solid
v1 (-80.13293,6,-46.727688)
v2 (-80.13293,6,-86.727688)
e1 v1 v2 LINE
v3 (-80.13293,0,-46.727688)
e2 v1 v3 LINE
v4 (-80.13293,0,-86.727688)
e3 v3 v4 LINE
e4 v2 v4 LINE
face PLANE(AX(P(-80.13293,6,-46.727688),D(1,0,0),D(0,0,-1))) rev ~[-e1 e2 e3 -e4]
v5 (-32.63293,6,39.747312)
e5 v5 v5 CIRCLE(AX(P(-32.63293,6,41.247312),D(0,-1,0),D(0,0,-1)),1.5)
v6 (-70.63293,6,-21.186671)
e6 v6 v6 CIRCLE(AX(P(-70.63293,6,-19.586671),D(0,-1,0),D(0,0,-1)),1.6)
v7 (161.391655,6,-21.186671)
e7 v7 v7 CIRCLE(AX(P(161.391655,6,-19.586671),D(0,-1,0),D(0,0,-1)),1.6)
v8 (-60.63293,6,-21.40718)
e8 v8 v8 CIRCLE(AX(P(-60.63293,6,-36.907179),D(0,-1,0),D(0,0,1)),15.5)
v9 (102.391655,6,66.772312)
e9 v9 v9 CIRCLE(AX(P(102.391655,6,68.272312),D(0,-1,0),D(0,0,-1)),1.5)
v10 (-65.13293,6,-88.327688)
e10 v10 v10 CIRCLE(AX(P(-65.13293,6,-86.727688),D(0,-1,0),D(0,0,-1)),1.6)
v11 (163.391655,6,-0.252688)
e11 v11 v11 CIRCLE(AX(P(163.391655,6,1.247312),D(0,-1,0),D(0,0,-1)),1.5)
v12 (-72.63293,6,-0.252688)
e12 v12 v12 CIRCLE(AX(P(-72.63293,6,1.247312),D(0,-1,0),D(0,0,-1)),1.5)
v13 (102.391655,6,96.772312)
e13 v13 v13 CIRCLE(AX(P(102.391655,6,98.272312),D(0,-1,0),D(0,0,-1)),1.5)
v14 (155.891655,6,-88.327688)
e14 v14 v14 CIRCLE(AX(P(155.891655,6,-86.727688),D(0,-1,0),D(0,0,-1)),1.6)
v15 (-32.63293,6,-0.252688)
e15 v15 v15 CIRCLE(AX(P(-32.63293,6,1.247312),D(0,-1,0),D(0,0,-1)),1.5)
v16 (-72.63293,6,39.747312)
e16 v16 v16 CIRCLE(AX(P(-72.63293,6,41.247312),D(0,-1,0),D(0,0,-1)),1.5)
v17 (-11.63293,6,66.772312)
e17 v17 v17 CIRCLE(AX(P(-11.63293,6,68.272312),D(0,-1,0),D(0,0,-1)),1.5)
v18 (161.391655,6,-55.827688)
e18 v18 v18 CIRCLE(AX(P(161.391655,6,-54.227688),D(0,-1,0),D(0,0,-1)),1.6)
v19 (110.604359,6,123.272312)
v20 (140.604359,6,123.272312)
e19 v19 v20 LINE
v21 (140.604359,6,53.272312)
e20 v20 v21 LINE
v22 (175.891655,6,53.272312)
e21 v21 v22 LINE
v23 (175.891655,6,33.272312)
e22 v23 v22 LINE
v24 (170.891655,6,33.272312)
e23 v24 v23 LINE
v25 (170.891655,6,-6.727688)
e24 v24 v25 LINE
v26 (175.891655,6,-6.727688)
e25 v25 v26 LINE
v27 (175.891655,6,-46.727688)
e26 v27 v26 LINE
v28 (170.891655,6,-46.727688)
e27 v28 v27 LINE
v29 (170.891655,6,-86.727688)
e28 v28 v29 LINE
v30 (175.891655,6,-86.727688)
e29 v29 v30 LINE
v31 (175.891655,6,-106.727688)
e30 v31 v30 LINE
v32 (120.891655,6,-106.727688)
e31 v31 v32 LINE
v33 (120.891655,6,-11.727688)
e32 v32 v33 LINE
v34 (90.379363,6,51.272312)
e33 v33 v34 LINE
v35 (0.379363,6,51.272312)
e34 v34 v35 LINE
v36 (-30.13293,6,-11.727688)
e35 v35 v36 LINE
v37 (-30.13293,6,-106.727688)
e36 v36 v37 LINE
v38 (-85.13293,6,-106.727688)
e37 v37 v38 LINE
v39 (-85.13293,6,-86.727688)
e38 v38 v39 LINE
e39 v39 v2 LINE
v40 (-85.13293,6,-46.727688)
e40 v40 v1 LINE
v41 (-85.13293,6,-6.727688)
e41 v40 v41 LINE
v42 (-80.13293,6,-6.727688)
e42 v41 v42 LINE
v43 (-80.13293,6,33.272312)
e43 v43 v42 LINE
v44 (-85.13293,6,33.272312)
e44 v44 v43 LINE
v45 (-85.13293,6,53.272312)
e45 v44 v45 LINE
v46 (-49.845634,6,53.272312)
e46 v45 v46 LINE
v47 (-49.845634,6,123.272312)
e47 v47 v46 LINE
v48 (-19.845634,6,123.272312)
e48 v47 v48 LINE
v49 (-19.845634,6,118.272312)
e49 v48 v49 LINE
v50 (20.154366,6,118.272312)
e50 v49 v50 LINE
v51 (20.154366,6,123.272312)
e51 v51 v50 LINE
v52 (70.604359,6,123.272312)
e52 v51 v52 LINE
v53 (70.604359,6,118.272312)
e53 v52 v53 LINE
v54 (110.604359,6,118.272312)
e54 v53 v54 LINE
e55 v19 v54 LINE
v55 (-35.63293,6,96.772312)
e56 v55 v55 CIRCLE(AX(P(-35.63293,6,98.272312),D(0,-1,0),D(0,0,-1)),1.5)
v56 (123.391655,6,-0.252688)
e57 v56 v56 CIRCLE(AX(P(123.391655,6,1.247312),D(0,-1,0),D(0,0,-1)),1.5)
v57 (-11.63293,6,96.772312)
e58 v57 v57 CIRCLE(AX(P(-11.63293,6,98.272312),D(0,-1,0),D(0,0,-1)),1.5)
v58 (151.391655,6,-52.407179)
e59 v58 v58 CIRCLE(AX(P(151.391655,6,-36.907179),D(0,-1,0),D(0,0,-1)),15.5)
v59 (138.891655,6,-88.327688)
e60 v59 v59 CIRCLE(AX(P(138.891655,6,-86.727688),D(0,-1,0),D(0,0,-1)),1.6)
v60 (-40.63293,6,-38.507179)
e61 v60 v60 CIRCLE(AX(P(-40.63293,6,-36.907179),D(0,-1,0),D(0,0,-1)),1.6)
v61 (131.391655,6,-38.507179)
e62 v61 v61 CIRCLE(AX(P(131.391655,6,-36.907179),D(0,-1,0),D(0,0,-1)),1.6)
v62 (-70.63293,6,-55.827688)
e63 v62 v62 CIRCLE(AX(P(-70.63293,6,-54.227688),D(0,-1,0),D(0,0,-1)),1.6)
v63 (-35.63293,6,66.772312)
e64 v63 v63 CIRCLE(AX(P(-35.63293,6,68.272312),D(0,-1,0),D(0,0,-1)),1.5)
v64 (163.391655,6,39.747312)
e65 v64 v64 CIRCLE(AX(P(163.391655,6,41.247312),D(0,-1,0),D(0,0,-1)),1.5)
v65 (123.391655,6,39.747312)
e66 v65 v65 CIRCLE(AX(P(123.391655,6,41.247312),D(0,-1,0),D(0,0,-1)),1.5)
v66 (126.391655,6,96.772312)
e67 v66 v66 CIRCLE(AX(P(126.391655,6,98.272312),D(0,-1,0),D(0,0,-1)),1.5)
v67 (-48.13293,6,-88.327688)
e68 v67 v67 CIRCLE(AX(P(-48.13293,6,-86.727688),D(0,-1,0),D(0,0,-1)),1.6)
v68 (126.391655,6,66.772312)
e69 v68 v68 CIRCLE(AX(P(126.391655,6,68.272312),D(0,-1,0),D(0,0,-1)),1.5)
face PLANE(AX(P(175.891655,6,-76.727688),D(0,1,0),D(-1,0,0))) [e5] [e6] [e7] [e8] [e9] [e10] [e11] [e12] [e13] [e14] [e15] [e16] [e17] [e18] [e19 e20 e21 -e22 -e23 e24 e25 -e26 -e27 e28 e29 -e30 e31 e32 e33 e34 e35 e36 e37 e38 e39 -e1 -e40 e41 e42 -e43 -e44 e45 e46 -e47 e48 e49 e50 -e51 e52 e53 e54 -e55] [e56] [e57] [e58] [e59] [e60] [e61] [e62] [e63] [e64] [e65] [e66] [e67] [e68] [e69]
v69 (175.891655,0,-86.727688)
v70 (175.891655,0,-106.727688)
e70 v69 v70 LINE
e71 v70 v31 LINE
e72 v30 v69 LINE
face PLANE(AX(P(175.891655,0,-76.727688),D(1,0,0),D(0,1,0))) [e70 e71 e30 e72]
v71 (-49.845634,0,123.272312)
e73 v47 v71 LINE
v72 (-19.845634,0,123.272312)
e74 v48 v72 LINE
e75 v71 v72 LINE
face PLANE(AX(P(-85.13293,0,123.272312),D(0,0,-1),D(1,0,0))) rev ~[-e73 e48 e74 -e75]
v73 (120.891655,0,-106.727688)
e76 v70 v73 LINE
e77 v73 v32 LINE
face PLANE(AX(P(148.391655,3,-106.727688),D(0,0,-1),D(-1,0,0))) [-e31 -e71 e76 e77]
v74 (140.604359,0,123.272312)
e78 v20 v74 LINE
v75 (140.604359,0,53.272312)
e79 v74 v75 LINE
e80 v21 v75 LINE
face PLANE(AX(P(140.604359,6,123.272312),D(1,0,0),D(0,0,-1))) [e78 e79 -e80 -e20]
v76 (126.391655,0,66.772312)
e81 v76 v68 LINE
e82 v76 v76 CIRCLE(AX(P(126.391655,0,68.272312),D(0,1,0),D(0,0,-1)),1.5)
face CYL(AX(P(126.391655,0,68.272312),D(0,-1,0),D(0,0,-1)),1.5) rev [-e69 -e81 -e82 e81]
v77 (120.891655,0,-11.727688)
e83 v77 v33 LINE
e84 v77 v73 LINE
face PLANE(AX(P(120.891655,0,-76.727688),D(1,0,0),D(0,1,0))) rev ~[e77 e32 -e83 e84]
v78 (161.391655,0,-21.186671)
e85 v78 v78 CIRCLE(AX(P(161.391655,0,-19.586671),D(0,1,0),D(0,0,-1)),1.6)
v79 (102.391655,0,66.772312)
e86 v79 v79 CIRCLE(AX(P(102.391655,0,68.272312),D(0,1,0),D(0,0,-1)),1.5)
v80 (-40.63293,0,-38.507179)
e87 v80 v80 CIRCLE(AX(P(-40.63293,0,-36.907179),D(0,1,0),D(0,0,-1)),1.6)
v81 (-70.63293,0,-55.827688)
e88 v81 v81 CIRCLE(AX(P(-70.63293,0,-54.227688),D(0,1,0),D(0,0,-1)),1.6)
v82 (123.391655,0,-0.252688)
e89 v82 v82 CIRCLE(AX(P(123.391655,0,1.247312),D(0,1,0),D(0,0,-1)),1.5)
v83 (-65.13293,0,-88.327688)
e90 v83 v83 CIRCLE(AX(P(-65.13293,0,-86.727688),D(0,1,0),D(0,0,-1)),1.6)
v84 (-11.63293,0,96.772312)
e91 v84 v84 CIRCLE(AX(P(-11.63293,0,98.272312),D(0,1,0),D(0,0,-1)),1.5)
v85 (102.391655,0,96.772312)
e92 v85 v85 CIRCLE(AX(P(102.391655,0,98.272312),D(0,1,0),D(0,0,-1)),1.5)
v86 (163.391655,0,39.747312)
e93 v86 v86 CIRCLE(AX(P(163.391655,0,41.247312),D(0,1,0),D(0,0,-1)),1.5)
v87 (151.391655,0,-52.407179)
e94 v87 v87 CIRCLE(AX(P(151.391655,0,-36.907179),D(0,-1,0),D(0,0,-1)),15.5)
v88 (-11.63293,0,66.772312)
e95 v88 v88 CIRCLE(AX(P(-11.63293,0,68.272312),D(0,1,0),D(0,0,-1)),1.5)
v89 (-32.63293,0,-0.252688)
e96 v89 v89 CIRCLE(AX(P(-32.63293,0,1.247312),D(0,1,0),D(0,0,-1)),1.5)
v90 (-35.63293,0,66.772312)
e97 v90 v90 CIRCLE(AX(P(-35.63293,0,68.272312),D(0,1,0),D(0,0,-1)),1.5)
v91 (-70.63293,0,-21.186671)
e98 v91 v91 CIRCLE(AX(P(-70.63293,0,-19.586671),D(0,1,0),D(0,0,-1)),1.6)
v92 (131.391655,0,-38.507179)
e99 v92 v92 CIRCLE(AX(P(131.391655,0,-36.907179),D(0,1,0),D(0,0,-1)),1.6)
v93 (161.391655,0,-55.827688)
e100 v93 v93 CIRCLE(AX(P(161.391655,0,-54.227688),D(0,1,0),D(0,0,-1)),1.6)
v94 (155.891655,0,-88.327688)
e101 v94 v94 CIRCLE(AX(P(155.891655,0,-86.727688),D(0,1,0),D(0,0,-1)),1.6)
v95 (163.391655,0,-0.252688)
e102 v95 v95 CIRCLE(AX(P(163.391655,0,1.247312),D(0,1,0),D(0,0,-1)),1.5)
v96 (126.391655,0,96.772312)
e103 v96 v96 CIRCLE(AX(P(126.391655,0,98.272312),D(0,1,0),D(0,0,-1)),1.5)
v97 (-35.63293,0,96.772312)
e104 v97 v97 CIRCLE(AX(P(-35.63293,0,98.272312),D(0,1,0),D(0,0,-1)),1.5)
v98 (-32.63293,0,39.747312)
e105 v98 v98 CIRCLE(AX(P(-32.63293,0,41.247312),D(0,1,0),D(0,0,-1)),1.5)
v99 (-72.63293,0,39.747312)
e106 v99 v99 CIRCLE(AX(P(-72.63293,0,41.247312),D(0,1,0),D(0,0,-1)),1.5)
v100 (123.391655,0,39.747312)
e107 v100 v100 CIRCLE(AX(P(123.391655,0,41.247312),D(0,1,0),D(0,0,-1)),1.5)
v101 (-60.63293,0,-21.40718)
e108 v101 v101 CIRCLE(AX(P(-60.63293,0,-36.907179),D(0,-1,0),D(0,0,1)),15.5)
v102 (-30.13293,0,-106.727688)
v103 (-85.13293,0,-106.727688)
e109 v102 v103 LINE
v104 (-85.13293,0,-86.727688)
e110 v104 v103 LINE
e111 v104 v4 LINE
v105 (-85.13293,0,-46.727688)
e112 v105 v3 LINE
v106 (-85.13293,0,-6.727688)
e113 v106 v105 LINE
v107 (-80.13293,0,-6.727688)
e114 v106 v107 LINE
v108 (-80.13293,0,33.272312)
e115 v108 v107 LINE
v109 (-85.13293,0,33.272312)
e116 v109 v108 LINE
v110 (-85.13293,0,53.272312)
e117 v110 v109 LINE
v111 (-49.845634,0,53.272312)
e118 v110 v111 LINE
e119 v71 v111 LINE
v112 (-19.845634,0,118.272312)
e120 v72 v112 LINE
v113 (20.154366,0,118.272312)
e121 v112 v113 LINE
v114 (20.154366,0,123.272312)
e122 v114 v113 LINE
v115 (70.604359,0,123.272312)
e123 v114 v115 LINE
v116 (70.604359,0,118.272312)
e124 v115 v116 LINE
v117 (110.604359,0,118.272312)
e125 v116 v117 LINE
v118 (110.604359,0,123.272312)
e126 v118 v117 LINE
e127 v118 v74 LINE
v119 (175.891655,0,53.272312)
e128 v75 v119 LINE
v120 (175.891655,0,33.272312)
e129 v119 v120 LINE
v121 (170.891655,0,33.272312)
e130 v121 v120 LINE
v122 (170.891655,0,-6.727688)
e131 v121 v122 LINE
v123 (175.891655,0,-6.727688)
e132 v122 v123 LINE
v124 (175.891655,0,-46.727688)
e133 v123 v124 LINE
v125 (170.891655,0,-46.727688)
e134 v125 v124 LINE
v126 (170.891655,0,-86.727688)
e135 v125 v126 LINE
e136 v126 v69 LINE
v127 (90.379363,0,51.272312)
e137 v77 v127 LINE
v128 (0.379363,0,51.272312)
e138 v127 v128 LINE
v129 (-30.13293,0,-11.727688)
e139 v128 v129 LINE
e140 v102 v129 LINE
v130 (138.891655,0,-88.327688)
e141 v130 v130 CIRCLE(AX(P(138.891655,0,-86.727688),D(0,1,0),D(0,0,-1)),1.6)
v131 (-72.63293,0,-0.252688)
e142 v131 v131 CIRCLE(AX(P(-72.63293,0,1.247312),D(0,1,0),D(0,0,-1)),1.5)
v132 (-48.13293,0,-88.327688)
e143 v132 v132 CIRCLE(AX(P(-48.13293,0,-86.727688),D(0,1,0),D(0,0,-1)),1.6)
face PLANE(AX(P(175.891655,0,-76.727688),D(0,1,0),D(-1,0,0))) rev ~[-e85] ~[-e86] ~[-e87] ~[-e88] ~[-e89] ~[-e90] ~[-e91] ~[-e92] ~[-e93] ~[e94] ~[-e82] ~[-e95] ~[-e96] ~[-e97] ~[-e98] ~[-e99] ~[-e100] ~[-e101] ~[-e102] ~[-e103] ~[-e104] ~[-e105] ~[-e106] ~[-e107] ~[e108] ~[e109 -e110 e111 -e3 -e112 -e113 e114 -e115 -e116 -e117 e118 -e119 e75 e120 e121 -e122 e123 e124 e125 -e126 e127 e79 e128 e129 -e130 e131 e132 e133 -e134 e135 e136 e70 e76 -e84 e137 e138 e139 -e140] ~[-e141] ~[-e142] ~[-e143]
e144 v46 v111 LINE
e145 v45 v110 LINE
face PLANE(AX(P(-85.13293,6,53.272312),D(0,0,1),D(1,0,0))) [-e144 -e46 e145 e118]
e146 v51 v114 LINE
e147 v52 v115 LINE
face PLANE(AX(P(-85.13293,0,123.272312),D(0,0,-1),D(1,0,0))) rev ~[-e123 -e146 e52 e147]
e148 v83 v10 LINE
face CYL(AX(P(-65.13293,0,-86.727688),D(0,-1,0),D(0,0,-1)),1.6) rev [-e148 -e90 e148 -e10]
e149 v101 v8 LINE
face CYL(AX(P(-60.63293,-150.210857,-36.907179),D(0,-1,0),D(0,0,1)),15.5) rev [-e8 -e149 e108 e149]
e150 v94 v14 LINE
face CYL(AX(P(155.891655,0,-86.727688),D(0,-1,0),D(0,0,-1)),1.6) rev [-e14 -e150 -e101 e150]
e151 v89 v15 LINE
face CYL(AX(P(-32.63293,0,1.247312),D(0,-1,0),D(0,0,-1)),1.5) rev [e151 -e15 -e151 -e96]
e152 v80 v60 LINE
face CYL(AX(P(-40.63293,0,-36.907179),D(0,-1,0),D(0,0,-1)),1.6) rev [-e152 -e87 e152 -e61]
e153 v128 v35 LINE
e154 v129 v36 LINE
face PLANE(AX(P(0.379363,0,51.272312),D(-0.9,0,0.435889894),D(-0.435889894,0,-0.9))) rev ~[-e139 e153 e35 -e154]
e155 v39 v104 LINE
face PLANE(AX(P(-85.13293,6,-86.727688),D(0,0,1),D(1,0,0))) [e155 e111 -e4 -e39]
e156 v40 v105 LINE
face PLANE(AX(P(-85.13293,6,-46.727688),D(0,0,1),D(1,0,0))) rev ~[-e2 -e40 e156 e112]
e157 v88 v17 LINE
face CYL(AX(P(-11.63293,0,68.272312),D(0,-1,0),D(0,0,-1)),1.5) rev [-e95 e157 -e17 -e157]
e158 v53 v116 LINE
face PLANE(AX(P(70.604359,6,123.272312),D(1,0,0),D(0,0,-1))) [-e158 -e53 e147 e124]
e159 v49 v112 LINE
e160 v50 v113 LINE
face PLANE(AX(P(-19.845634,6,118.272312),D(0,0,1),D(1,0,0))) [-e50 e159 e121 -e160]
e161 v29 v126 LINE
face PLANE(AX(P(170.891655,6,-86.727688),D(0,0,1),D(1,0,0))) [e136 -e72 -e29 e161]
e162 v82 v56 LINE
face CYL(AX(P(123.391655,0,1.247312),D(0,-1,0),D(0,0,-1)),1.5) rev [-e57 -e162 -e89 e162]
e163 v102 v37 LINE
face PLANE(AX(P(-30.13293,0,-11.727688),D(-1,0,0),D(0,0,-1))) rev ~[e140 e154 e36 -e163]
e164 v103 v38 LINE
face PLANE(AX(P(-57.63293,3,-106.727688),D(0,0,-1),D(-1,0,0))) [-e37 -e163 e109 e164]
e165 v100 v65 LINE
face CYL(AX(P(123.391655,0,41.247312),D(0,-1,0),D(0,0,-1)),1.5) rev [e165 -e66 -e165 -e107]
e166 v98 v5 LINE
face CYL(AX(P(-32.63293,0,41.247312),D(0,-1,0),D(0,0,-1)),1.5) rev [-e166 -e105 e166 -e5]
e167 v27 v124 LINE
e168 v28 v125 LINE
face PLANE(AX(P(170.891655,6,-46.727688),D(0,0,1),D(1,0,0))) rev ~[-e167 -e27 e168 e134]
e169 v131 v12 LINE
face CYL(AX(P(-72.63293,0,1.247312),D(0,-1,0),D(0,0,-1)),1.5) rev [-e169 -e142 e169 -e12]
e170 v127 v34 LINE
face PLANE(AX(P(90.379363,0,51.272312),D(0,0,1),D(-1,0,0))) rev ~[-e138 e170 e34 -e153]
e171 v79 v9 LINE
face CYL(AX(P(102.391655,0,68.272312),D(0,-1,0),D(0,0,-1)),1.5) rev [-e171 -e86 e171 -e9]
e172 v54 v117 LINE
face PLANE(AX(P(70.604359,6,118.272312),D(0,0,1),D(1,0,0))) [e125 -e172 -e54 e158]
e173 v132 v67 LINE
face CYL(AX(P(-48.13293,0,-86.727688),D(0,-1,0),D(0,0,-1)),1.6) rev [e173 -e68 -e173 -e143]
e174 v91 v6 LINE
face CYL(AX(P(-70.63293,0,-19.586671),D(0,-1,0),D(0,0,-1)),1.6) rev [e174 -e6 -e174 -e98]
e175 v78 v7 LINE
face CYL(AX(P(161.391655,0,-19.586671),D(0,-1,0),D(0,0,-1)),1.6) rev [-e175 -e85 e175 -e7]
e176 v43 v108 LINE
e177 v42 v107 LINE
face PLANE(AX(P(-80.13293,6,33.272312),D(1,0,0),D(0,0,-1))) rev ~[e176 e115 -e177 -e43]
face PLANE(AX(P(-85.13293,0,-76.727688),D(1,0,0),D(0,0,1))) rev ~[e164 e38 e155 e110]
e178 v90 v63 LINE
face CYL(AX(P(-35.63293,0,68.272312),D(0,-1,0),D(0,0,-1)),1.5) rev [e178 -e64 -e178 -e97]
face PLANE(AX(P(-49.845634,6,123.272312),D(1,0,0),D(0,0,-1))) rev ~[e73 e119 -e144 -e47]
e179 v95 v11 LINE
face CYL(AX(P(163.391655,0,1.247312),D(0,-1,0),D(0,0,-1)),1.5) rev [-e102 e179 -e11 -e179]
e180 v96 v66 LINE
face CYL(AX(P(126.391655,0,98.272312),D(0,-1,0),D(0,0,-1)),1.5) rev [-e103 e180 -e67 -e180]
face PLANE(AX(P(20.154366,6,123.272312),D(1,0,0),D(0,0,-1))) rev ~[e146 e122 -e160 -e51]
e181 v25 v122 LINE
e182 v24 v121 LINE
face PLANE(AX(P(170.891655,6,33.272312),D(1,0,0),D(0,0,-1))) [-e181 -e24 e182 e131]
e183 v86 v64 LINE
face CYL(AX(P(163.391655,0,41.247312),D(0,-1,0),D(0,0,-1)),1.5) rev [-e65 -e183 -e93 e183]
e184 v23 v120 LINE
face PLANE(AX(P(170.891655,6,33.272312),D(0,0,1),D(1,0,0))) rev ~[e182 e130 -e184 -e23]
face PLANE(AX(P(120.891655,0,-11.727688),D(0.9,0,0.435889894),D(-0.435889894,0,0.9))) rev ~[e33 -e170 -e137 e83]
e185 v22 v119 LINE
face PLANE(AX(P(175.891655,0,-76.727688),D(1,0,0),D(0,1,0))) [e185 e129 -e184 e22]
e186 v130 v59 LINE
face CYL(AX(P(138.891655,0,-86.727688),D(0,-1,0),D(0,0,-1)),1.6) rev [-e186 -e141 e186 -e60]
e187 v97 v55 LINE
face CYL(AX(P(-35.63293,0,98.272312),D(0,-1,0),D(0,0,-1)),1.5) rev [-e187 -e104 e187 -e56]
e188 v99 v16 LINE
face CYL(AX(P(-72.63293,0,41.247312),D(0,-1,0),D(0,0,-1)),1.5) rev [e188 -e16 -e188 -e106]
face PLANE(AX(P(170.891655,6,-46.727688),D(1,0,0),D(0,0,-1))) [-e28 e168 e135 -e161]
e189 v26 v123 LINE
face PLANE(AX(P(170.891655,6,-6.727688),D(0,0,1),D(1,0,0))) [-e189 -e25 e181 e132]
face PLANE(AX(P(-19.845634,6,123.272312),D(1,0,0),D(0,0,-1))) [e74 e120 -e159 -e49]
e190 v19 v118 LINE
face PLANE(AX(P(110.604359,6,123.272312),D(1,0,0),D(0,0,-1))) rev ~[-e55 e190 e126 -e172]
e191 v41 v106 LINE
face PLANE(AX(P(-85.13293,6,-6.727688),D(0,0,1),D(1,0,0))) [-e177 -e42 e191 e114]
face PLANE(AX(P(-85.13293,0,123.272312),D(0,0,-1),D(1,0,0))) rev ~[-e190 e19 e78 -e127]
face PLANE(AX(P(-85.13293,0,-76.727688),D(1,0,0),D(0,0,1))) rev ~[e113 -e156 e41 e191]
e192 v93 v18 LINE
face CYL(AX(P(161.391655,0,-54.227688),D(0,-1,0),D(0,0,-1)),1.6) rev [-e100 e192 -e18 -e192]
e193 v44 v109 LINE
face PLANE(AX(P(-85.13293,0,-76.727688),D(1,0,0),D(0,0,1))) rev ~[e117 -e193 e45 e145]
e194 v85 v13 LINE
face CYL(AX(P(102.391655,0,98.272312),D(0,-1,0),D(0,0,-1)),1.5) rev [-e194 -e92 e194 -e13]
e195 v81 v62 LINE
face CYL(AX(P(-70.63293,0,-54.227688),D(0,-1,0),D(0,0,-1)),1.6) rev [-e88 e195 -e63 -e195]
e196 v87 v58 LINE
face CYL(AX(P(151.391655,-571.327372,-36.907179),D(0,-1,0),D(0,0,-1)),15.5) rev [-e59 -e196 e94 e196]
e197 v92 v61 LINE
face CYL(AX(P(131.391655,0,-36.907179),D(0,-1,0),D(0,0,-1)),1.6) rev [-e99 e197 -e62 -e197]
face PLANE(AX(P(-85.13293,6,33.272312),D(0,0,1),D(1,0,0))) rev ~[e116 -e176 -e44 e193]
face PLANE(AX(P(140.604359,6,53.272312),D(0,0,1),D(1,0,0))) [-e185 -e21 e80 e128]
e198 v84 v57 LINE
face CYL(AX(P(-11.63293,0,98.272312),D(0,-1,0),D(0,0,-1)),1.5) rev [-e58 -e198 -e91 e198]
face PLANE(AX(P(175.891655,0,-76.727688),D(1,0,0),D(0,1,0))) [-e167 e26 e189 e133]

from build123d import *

# Parameters (mm, degrees)
BOSS_EXTRUDE1_DEPTH     = 6
SKETCH4_W               = 35.287296169
SKETCH4_H               = 70
CUT_EXTRUDE1_DEPTH      = 10
SKETCH8_W               = 55
SKETCH8_H               = 6
BOSS_EXTRUDE2_DEPTH     = 30
SKETCH10_W              = 5
SKETCH10_H              = 40
SKETCH10_W_2            = 40
SKETCH10_H_2            = 5
CUT_EXTRUDE2_DEPTH      = 10
SKETCH11_R              = 1.5
CUT_EXTRUDE3_DEPTH      = 10
SKETCH12_R              = 1.6
CUT_EXTRUDE4_DEPTH      = 27
SKETCH13_R              = 1.6
CUT_EXTRUDE5_DEPTH      = 39
SKETCH14_R              = 1.6
SKETCH14_R_2            = 1.5
CUT_EXTRUDE6_DEPTH      = 10
CUT_EXTRUDE7_DEPTH      = 436.116515514
CUT_EXTRUDE7_DEPTH_BACK = 15
SKETCH15_R              = 15.5
CUT_EXTRUDE8_DEPTH      = 436.116515514
CUT_EXTRUDE8_DEPTH_BACK = 436.116515514
SKETCH16_R              = 15.5


with BuildPart() as part:
    # Sketch3 → Boss-Extrude1 (new body)
    with BuildSketch(Plane(origin=(0, 0, 0), x_dir=(1, 0, 0), z_dir=(0, 1, 0))):
        Polygon((-85.132929843, 76.727687575), (-85.132929843, -123.272312425), (175.891655366, -123.272312425), (175.891655366, 76.727687575), (120.891655366, 76.727687575), (120.891655366, 11.727687575), (90.379362761, -51.272312425), (0.379362761, -51.272312425), (-30.132929843, 11.727687575), (-30.132929843, 76.727687575), align=None)
    extrude(amount=BOSS_EXTRUDE1_DEPTH)

    # Sketch4 → Cut-Extrude1 (cut)
    with BuildSketch(Plane(origin=(0, 6, 0), x_dir=(1, 0, 0), z_dir=(0, 1, 0))):
        with Locations((-67.489281758, -88.272312425)):
            Rectangle(SKETCH4_W, SKETCH4_H)
        with Locations((158.248007282, -88.272312425)):
            Rectangle(SKETCH4_W, SKETCH4_H)
    extrude(amount=-CUT_EXTRUDE1_DEPTH, mode=Mode.SUBTRACT)

    # Sketch8 → Boss-Extrude2 (add)
    with BuildSketch(Plane(origin=(0, 0, -76.727687575), x_dir=(-1, 0, 0), z_dir=(0, 0, -1))):
        with Locations((-148.391655366, 3)):
            Rectangle(SKETCH8_W, SKETCH8_H)
        with Locations((57.632929843, 3)):
            Rectangle(SKETCH8_W, SKETCH8_H)
    extrude(amount=BOSS_EXTRUDE2_DEPTH)

    # Sketch10 → Cut-Extrude2 (cut)
    with BuildSketch(Plane(origin=(0, 6, 0), x_dir=(1, 0, 0), z_dir=(0, 1, 0))):
        with Locations((-82.632929843, 66.727687575)):
            Rectangle(SKETCH10_W, SKETCH10_H)
        with Locations((-82.632929843, -13.272312425)):
            Rectangle(SKETCH10_W, SKETCH10_H)
        with Locations((173.391655366, -13.272312425)):
            Rectangle(SKETCH10_W, SKETCH10_H)
        with Locations((173.391655366, 66.727687575)):
            Rectangle(SKETCH10_W, SKETCH10_H)
        with Locations((0.154366326, -120.772312425)):
            Rectangle(SKETCH10_W_2, SKETCH10_H_2)
        with Locations((90.604359197, -120.772312425)):
            Rectangle(SKETCH10_W_2, SKETCH10_H_2)
    extrude(amount=-CUT_EXTRUDE2_DEPTH, mode=Mode.SUBTRACT)

    # Sketch11 → Cut-Extrude3 (cut)
    with BuildSketch(Plane(origin=(0, 0, 0), x_dir=(1, 0, 0), z_dir=(0, 1, 0))):
        with Locations((-35.632929843, -68.272312425)):
            Circle(SKETCH11_R)
        with Locations((-11.632929843, -68.272312425)):
            Circle(SKETCH11_R)
        with Locations((-11.632929843, -98.272312425)):
            Circle(SKETCH11_R)
        with Locations((-35.632929843, -98.272312425)):
            Circle(SKETCH11_R)
        with Locations((102.391655366, -68.272312425)):
            Circle(SKETCH11_R)
        with Locations((102.391655366, -98.272312425)):
            Circle(SKETCH11_R)
        with Locations((126.391655366, -98.272312425)):
            Circle(SKETCH11_R)
        with Locations((126.391655366, -68.272312425)):
            Circle(SKETCH11_R)
    extrude(amount=CUT_EXTRUDE3_DEPTH, mode=Mode.SUBTRACT)

    # Sketch12 → Cut-Extrude4 (cut)
    with BuildSketch(Plane(origin=(0, 0, 0), x_dir=(1, 0, 0), z_dir=(0, 1, 0))):
        with Locations((138.891655366, 86.727687575)):
            Circle(SKETCH12_R)
        with Locations((155.891655366, 86.727687575)):
            Circle(SKETCH12_R)
    extrude(amount=CUT_EXTRUDE4_DEPTH, mode=Mode.SUBTRACT)

    # Sketch13 → Cut-Extrude5 (cut)
    with BuildSketch(Plane(origin=(0, 0, 0), x_dir=(1, 0, 0), z_dir=(0, 1, 0))):
        with Locations((-65.132929843, 86.727687575)):
            Circle(SKETCH13_R)
        with Locations((-48.132929843, 86.727687575)):
            Circle(SKETCH13_R)
    extrude(amount=CUT_EXTRUDE5_DEPTH, mode=Mode.SUBTRACT)

    # Sketch14 → Cut-Extrude6 (cut)
    with BuildSketch(Plane(origin=(0, 0, 0), x_dir=(1, 0, 0), z_dir=(0, 1, 0))):
        with Locations((-70.632929843, 54.227687575)):
            Circle(SKETCH14_R)
        with Locations((-40.632929843, 36.907179499)):
            Circle(SKETCH14_R)
        with Locations((-70.632929843, 19.586671424)):
            Circle(SKETCH14_R)
        with Locations((-72.632929843, -1.247312425)):
            Circle(SKETCH14_R_2)
        with Locations((-32.632929843, -1.247312425)):
            Circle(SKETCH14_R_2)
        with Locations((-32.632929843, -41.247312425)):
            Circle(SKETCH14_R_2)
        with Locations((-72.632929843, -41.247312425)):
            Circle(SKETCH14_R_2)
        with Locations((163.391655366, -41.247312425)):
            Circle(SKETCH14_R_2)
        with Locations((123.391655366, -41.247312425)):
            Circle(SKETCH14_R_2)
        with Locations((123.391655366, -1.247312425)):
            Circle(SKETCH14_R_2)
        with Locations((163.391655366, -1.247312425)):
            Circle(SKETCH14_R_2)
        with Locations((161.391655366, 19.586671424)):
            Circle(SKETCH14_R)
        with Locations((131.391655366, 36.907179499)):
            Circle(SKETCH14_R)
        with Locations((161.391655366, 54.227687575)):
            Circle(SKETCH14_R)
    extrude(amount=CUT_EXTRUDE6_DEPTH, mode=Mode.SUBTRACT)

    # Sketch15 → Cut-Extrude7 (cut, two sides: drawn at the far end of the back side and taken through both)
    with BuildSketch(Plane(origin=(-65.954618325, -135.210856749, -209.738582158), x_dir=(1, 0, 0), z_dir=(0, 1, 0)).offset(-CUT_EXTRUDE7_DEPTH_BACK)):
        with Locations((5.321688481, -172.831402658)):
            Circle(SKETCH15_R)
    extrude(amount=CUT_EXTRUDE7_DEPTH + CUT_EXTRUDE7_DEPTH_BACK, mode=Mode.SUBTRACT)

    # Sketch16 → Cut-Extrude8 (cut, two sides: drawn at the far end of the back side and taken through both)
    with BuildSketch(Plane(origin=(-65.954618325, -135.210856749, -209.738582158), x_dir=(1, 0, 0), z_dir=(0, 1, 0)).offset(-CUT_EXTRUDE8_DEPTH_BACK)):
        with Locations((217.346273691, -172.831402658)):
            Circle(SKETCH16_R)
    extrude(amount=CUT_EXTRUDE8_DEPTH + CUT_EXTRUDE8_DEPTH_BACK, mode=Mode.SUBTRACT)


solid = part.part
